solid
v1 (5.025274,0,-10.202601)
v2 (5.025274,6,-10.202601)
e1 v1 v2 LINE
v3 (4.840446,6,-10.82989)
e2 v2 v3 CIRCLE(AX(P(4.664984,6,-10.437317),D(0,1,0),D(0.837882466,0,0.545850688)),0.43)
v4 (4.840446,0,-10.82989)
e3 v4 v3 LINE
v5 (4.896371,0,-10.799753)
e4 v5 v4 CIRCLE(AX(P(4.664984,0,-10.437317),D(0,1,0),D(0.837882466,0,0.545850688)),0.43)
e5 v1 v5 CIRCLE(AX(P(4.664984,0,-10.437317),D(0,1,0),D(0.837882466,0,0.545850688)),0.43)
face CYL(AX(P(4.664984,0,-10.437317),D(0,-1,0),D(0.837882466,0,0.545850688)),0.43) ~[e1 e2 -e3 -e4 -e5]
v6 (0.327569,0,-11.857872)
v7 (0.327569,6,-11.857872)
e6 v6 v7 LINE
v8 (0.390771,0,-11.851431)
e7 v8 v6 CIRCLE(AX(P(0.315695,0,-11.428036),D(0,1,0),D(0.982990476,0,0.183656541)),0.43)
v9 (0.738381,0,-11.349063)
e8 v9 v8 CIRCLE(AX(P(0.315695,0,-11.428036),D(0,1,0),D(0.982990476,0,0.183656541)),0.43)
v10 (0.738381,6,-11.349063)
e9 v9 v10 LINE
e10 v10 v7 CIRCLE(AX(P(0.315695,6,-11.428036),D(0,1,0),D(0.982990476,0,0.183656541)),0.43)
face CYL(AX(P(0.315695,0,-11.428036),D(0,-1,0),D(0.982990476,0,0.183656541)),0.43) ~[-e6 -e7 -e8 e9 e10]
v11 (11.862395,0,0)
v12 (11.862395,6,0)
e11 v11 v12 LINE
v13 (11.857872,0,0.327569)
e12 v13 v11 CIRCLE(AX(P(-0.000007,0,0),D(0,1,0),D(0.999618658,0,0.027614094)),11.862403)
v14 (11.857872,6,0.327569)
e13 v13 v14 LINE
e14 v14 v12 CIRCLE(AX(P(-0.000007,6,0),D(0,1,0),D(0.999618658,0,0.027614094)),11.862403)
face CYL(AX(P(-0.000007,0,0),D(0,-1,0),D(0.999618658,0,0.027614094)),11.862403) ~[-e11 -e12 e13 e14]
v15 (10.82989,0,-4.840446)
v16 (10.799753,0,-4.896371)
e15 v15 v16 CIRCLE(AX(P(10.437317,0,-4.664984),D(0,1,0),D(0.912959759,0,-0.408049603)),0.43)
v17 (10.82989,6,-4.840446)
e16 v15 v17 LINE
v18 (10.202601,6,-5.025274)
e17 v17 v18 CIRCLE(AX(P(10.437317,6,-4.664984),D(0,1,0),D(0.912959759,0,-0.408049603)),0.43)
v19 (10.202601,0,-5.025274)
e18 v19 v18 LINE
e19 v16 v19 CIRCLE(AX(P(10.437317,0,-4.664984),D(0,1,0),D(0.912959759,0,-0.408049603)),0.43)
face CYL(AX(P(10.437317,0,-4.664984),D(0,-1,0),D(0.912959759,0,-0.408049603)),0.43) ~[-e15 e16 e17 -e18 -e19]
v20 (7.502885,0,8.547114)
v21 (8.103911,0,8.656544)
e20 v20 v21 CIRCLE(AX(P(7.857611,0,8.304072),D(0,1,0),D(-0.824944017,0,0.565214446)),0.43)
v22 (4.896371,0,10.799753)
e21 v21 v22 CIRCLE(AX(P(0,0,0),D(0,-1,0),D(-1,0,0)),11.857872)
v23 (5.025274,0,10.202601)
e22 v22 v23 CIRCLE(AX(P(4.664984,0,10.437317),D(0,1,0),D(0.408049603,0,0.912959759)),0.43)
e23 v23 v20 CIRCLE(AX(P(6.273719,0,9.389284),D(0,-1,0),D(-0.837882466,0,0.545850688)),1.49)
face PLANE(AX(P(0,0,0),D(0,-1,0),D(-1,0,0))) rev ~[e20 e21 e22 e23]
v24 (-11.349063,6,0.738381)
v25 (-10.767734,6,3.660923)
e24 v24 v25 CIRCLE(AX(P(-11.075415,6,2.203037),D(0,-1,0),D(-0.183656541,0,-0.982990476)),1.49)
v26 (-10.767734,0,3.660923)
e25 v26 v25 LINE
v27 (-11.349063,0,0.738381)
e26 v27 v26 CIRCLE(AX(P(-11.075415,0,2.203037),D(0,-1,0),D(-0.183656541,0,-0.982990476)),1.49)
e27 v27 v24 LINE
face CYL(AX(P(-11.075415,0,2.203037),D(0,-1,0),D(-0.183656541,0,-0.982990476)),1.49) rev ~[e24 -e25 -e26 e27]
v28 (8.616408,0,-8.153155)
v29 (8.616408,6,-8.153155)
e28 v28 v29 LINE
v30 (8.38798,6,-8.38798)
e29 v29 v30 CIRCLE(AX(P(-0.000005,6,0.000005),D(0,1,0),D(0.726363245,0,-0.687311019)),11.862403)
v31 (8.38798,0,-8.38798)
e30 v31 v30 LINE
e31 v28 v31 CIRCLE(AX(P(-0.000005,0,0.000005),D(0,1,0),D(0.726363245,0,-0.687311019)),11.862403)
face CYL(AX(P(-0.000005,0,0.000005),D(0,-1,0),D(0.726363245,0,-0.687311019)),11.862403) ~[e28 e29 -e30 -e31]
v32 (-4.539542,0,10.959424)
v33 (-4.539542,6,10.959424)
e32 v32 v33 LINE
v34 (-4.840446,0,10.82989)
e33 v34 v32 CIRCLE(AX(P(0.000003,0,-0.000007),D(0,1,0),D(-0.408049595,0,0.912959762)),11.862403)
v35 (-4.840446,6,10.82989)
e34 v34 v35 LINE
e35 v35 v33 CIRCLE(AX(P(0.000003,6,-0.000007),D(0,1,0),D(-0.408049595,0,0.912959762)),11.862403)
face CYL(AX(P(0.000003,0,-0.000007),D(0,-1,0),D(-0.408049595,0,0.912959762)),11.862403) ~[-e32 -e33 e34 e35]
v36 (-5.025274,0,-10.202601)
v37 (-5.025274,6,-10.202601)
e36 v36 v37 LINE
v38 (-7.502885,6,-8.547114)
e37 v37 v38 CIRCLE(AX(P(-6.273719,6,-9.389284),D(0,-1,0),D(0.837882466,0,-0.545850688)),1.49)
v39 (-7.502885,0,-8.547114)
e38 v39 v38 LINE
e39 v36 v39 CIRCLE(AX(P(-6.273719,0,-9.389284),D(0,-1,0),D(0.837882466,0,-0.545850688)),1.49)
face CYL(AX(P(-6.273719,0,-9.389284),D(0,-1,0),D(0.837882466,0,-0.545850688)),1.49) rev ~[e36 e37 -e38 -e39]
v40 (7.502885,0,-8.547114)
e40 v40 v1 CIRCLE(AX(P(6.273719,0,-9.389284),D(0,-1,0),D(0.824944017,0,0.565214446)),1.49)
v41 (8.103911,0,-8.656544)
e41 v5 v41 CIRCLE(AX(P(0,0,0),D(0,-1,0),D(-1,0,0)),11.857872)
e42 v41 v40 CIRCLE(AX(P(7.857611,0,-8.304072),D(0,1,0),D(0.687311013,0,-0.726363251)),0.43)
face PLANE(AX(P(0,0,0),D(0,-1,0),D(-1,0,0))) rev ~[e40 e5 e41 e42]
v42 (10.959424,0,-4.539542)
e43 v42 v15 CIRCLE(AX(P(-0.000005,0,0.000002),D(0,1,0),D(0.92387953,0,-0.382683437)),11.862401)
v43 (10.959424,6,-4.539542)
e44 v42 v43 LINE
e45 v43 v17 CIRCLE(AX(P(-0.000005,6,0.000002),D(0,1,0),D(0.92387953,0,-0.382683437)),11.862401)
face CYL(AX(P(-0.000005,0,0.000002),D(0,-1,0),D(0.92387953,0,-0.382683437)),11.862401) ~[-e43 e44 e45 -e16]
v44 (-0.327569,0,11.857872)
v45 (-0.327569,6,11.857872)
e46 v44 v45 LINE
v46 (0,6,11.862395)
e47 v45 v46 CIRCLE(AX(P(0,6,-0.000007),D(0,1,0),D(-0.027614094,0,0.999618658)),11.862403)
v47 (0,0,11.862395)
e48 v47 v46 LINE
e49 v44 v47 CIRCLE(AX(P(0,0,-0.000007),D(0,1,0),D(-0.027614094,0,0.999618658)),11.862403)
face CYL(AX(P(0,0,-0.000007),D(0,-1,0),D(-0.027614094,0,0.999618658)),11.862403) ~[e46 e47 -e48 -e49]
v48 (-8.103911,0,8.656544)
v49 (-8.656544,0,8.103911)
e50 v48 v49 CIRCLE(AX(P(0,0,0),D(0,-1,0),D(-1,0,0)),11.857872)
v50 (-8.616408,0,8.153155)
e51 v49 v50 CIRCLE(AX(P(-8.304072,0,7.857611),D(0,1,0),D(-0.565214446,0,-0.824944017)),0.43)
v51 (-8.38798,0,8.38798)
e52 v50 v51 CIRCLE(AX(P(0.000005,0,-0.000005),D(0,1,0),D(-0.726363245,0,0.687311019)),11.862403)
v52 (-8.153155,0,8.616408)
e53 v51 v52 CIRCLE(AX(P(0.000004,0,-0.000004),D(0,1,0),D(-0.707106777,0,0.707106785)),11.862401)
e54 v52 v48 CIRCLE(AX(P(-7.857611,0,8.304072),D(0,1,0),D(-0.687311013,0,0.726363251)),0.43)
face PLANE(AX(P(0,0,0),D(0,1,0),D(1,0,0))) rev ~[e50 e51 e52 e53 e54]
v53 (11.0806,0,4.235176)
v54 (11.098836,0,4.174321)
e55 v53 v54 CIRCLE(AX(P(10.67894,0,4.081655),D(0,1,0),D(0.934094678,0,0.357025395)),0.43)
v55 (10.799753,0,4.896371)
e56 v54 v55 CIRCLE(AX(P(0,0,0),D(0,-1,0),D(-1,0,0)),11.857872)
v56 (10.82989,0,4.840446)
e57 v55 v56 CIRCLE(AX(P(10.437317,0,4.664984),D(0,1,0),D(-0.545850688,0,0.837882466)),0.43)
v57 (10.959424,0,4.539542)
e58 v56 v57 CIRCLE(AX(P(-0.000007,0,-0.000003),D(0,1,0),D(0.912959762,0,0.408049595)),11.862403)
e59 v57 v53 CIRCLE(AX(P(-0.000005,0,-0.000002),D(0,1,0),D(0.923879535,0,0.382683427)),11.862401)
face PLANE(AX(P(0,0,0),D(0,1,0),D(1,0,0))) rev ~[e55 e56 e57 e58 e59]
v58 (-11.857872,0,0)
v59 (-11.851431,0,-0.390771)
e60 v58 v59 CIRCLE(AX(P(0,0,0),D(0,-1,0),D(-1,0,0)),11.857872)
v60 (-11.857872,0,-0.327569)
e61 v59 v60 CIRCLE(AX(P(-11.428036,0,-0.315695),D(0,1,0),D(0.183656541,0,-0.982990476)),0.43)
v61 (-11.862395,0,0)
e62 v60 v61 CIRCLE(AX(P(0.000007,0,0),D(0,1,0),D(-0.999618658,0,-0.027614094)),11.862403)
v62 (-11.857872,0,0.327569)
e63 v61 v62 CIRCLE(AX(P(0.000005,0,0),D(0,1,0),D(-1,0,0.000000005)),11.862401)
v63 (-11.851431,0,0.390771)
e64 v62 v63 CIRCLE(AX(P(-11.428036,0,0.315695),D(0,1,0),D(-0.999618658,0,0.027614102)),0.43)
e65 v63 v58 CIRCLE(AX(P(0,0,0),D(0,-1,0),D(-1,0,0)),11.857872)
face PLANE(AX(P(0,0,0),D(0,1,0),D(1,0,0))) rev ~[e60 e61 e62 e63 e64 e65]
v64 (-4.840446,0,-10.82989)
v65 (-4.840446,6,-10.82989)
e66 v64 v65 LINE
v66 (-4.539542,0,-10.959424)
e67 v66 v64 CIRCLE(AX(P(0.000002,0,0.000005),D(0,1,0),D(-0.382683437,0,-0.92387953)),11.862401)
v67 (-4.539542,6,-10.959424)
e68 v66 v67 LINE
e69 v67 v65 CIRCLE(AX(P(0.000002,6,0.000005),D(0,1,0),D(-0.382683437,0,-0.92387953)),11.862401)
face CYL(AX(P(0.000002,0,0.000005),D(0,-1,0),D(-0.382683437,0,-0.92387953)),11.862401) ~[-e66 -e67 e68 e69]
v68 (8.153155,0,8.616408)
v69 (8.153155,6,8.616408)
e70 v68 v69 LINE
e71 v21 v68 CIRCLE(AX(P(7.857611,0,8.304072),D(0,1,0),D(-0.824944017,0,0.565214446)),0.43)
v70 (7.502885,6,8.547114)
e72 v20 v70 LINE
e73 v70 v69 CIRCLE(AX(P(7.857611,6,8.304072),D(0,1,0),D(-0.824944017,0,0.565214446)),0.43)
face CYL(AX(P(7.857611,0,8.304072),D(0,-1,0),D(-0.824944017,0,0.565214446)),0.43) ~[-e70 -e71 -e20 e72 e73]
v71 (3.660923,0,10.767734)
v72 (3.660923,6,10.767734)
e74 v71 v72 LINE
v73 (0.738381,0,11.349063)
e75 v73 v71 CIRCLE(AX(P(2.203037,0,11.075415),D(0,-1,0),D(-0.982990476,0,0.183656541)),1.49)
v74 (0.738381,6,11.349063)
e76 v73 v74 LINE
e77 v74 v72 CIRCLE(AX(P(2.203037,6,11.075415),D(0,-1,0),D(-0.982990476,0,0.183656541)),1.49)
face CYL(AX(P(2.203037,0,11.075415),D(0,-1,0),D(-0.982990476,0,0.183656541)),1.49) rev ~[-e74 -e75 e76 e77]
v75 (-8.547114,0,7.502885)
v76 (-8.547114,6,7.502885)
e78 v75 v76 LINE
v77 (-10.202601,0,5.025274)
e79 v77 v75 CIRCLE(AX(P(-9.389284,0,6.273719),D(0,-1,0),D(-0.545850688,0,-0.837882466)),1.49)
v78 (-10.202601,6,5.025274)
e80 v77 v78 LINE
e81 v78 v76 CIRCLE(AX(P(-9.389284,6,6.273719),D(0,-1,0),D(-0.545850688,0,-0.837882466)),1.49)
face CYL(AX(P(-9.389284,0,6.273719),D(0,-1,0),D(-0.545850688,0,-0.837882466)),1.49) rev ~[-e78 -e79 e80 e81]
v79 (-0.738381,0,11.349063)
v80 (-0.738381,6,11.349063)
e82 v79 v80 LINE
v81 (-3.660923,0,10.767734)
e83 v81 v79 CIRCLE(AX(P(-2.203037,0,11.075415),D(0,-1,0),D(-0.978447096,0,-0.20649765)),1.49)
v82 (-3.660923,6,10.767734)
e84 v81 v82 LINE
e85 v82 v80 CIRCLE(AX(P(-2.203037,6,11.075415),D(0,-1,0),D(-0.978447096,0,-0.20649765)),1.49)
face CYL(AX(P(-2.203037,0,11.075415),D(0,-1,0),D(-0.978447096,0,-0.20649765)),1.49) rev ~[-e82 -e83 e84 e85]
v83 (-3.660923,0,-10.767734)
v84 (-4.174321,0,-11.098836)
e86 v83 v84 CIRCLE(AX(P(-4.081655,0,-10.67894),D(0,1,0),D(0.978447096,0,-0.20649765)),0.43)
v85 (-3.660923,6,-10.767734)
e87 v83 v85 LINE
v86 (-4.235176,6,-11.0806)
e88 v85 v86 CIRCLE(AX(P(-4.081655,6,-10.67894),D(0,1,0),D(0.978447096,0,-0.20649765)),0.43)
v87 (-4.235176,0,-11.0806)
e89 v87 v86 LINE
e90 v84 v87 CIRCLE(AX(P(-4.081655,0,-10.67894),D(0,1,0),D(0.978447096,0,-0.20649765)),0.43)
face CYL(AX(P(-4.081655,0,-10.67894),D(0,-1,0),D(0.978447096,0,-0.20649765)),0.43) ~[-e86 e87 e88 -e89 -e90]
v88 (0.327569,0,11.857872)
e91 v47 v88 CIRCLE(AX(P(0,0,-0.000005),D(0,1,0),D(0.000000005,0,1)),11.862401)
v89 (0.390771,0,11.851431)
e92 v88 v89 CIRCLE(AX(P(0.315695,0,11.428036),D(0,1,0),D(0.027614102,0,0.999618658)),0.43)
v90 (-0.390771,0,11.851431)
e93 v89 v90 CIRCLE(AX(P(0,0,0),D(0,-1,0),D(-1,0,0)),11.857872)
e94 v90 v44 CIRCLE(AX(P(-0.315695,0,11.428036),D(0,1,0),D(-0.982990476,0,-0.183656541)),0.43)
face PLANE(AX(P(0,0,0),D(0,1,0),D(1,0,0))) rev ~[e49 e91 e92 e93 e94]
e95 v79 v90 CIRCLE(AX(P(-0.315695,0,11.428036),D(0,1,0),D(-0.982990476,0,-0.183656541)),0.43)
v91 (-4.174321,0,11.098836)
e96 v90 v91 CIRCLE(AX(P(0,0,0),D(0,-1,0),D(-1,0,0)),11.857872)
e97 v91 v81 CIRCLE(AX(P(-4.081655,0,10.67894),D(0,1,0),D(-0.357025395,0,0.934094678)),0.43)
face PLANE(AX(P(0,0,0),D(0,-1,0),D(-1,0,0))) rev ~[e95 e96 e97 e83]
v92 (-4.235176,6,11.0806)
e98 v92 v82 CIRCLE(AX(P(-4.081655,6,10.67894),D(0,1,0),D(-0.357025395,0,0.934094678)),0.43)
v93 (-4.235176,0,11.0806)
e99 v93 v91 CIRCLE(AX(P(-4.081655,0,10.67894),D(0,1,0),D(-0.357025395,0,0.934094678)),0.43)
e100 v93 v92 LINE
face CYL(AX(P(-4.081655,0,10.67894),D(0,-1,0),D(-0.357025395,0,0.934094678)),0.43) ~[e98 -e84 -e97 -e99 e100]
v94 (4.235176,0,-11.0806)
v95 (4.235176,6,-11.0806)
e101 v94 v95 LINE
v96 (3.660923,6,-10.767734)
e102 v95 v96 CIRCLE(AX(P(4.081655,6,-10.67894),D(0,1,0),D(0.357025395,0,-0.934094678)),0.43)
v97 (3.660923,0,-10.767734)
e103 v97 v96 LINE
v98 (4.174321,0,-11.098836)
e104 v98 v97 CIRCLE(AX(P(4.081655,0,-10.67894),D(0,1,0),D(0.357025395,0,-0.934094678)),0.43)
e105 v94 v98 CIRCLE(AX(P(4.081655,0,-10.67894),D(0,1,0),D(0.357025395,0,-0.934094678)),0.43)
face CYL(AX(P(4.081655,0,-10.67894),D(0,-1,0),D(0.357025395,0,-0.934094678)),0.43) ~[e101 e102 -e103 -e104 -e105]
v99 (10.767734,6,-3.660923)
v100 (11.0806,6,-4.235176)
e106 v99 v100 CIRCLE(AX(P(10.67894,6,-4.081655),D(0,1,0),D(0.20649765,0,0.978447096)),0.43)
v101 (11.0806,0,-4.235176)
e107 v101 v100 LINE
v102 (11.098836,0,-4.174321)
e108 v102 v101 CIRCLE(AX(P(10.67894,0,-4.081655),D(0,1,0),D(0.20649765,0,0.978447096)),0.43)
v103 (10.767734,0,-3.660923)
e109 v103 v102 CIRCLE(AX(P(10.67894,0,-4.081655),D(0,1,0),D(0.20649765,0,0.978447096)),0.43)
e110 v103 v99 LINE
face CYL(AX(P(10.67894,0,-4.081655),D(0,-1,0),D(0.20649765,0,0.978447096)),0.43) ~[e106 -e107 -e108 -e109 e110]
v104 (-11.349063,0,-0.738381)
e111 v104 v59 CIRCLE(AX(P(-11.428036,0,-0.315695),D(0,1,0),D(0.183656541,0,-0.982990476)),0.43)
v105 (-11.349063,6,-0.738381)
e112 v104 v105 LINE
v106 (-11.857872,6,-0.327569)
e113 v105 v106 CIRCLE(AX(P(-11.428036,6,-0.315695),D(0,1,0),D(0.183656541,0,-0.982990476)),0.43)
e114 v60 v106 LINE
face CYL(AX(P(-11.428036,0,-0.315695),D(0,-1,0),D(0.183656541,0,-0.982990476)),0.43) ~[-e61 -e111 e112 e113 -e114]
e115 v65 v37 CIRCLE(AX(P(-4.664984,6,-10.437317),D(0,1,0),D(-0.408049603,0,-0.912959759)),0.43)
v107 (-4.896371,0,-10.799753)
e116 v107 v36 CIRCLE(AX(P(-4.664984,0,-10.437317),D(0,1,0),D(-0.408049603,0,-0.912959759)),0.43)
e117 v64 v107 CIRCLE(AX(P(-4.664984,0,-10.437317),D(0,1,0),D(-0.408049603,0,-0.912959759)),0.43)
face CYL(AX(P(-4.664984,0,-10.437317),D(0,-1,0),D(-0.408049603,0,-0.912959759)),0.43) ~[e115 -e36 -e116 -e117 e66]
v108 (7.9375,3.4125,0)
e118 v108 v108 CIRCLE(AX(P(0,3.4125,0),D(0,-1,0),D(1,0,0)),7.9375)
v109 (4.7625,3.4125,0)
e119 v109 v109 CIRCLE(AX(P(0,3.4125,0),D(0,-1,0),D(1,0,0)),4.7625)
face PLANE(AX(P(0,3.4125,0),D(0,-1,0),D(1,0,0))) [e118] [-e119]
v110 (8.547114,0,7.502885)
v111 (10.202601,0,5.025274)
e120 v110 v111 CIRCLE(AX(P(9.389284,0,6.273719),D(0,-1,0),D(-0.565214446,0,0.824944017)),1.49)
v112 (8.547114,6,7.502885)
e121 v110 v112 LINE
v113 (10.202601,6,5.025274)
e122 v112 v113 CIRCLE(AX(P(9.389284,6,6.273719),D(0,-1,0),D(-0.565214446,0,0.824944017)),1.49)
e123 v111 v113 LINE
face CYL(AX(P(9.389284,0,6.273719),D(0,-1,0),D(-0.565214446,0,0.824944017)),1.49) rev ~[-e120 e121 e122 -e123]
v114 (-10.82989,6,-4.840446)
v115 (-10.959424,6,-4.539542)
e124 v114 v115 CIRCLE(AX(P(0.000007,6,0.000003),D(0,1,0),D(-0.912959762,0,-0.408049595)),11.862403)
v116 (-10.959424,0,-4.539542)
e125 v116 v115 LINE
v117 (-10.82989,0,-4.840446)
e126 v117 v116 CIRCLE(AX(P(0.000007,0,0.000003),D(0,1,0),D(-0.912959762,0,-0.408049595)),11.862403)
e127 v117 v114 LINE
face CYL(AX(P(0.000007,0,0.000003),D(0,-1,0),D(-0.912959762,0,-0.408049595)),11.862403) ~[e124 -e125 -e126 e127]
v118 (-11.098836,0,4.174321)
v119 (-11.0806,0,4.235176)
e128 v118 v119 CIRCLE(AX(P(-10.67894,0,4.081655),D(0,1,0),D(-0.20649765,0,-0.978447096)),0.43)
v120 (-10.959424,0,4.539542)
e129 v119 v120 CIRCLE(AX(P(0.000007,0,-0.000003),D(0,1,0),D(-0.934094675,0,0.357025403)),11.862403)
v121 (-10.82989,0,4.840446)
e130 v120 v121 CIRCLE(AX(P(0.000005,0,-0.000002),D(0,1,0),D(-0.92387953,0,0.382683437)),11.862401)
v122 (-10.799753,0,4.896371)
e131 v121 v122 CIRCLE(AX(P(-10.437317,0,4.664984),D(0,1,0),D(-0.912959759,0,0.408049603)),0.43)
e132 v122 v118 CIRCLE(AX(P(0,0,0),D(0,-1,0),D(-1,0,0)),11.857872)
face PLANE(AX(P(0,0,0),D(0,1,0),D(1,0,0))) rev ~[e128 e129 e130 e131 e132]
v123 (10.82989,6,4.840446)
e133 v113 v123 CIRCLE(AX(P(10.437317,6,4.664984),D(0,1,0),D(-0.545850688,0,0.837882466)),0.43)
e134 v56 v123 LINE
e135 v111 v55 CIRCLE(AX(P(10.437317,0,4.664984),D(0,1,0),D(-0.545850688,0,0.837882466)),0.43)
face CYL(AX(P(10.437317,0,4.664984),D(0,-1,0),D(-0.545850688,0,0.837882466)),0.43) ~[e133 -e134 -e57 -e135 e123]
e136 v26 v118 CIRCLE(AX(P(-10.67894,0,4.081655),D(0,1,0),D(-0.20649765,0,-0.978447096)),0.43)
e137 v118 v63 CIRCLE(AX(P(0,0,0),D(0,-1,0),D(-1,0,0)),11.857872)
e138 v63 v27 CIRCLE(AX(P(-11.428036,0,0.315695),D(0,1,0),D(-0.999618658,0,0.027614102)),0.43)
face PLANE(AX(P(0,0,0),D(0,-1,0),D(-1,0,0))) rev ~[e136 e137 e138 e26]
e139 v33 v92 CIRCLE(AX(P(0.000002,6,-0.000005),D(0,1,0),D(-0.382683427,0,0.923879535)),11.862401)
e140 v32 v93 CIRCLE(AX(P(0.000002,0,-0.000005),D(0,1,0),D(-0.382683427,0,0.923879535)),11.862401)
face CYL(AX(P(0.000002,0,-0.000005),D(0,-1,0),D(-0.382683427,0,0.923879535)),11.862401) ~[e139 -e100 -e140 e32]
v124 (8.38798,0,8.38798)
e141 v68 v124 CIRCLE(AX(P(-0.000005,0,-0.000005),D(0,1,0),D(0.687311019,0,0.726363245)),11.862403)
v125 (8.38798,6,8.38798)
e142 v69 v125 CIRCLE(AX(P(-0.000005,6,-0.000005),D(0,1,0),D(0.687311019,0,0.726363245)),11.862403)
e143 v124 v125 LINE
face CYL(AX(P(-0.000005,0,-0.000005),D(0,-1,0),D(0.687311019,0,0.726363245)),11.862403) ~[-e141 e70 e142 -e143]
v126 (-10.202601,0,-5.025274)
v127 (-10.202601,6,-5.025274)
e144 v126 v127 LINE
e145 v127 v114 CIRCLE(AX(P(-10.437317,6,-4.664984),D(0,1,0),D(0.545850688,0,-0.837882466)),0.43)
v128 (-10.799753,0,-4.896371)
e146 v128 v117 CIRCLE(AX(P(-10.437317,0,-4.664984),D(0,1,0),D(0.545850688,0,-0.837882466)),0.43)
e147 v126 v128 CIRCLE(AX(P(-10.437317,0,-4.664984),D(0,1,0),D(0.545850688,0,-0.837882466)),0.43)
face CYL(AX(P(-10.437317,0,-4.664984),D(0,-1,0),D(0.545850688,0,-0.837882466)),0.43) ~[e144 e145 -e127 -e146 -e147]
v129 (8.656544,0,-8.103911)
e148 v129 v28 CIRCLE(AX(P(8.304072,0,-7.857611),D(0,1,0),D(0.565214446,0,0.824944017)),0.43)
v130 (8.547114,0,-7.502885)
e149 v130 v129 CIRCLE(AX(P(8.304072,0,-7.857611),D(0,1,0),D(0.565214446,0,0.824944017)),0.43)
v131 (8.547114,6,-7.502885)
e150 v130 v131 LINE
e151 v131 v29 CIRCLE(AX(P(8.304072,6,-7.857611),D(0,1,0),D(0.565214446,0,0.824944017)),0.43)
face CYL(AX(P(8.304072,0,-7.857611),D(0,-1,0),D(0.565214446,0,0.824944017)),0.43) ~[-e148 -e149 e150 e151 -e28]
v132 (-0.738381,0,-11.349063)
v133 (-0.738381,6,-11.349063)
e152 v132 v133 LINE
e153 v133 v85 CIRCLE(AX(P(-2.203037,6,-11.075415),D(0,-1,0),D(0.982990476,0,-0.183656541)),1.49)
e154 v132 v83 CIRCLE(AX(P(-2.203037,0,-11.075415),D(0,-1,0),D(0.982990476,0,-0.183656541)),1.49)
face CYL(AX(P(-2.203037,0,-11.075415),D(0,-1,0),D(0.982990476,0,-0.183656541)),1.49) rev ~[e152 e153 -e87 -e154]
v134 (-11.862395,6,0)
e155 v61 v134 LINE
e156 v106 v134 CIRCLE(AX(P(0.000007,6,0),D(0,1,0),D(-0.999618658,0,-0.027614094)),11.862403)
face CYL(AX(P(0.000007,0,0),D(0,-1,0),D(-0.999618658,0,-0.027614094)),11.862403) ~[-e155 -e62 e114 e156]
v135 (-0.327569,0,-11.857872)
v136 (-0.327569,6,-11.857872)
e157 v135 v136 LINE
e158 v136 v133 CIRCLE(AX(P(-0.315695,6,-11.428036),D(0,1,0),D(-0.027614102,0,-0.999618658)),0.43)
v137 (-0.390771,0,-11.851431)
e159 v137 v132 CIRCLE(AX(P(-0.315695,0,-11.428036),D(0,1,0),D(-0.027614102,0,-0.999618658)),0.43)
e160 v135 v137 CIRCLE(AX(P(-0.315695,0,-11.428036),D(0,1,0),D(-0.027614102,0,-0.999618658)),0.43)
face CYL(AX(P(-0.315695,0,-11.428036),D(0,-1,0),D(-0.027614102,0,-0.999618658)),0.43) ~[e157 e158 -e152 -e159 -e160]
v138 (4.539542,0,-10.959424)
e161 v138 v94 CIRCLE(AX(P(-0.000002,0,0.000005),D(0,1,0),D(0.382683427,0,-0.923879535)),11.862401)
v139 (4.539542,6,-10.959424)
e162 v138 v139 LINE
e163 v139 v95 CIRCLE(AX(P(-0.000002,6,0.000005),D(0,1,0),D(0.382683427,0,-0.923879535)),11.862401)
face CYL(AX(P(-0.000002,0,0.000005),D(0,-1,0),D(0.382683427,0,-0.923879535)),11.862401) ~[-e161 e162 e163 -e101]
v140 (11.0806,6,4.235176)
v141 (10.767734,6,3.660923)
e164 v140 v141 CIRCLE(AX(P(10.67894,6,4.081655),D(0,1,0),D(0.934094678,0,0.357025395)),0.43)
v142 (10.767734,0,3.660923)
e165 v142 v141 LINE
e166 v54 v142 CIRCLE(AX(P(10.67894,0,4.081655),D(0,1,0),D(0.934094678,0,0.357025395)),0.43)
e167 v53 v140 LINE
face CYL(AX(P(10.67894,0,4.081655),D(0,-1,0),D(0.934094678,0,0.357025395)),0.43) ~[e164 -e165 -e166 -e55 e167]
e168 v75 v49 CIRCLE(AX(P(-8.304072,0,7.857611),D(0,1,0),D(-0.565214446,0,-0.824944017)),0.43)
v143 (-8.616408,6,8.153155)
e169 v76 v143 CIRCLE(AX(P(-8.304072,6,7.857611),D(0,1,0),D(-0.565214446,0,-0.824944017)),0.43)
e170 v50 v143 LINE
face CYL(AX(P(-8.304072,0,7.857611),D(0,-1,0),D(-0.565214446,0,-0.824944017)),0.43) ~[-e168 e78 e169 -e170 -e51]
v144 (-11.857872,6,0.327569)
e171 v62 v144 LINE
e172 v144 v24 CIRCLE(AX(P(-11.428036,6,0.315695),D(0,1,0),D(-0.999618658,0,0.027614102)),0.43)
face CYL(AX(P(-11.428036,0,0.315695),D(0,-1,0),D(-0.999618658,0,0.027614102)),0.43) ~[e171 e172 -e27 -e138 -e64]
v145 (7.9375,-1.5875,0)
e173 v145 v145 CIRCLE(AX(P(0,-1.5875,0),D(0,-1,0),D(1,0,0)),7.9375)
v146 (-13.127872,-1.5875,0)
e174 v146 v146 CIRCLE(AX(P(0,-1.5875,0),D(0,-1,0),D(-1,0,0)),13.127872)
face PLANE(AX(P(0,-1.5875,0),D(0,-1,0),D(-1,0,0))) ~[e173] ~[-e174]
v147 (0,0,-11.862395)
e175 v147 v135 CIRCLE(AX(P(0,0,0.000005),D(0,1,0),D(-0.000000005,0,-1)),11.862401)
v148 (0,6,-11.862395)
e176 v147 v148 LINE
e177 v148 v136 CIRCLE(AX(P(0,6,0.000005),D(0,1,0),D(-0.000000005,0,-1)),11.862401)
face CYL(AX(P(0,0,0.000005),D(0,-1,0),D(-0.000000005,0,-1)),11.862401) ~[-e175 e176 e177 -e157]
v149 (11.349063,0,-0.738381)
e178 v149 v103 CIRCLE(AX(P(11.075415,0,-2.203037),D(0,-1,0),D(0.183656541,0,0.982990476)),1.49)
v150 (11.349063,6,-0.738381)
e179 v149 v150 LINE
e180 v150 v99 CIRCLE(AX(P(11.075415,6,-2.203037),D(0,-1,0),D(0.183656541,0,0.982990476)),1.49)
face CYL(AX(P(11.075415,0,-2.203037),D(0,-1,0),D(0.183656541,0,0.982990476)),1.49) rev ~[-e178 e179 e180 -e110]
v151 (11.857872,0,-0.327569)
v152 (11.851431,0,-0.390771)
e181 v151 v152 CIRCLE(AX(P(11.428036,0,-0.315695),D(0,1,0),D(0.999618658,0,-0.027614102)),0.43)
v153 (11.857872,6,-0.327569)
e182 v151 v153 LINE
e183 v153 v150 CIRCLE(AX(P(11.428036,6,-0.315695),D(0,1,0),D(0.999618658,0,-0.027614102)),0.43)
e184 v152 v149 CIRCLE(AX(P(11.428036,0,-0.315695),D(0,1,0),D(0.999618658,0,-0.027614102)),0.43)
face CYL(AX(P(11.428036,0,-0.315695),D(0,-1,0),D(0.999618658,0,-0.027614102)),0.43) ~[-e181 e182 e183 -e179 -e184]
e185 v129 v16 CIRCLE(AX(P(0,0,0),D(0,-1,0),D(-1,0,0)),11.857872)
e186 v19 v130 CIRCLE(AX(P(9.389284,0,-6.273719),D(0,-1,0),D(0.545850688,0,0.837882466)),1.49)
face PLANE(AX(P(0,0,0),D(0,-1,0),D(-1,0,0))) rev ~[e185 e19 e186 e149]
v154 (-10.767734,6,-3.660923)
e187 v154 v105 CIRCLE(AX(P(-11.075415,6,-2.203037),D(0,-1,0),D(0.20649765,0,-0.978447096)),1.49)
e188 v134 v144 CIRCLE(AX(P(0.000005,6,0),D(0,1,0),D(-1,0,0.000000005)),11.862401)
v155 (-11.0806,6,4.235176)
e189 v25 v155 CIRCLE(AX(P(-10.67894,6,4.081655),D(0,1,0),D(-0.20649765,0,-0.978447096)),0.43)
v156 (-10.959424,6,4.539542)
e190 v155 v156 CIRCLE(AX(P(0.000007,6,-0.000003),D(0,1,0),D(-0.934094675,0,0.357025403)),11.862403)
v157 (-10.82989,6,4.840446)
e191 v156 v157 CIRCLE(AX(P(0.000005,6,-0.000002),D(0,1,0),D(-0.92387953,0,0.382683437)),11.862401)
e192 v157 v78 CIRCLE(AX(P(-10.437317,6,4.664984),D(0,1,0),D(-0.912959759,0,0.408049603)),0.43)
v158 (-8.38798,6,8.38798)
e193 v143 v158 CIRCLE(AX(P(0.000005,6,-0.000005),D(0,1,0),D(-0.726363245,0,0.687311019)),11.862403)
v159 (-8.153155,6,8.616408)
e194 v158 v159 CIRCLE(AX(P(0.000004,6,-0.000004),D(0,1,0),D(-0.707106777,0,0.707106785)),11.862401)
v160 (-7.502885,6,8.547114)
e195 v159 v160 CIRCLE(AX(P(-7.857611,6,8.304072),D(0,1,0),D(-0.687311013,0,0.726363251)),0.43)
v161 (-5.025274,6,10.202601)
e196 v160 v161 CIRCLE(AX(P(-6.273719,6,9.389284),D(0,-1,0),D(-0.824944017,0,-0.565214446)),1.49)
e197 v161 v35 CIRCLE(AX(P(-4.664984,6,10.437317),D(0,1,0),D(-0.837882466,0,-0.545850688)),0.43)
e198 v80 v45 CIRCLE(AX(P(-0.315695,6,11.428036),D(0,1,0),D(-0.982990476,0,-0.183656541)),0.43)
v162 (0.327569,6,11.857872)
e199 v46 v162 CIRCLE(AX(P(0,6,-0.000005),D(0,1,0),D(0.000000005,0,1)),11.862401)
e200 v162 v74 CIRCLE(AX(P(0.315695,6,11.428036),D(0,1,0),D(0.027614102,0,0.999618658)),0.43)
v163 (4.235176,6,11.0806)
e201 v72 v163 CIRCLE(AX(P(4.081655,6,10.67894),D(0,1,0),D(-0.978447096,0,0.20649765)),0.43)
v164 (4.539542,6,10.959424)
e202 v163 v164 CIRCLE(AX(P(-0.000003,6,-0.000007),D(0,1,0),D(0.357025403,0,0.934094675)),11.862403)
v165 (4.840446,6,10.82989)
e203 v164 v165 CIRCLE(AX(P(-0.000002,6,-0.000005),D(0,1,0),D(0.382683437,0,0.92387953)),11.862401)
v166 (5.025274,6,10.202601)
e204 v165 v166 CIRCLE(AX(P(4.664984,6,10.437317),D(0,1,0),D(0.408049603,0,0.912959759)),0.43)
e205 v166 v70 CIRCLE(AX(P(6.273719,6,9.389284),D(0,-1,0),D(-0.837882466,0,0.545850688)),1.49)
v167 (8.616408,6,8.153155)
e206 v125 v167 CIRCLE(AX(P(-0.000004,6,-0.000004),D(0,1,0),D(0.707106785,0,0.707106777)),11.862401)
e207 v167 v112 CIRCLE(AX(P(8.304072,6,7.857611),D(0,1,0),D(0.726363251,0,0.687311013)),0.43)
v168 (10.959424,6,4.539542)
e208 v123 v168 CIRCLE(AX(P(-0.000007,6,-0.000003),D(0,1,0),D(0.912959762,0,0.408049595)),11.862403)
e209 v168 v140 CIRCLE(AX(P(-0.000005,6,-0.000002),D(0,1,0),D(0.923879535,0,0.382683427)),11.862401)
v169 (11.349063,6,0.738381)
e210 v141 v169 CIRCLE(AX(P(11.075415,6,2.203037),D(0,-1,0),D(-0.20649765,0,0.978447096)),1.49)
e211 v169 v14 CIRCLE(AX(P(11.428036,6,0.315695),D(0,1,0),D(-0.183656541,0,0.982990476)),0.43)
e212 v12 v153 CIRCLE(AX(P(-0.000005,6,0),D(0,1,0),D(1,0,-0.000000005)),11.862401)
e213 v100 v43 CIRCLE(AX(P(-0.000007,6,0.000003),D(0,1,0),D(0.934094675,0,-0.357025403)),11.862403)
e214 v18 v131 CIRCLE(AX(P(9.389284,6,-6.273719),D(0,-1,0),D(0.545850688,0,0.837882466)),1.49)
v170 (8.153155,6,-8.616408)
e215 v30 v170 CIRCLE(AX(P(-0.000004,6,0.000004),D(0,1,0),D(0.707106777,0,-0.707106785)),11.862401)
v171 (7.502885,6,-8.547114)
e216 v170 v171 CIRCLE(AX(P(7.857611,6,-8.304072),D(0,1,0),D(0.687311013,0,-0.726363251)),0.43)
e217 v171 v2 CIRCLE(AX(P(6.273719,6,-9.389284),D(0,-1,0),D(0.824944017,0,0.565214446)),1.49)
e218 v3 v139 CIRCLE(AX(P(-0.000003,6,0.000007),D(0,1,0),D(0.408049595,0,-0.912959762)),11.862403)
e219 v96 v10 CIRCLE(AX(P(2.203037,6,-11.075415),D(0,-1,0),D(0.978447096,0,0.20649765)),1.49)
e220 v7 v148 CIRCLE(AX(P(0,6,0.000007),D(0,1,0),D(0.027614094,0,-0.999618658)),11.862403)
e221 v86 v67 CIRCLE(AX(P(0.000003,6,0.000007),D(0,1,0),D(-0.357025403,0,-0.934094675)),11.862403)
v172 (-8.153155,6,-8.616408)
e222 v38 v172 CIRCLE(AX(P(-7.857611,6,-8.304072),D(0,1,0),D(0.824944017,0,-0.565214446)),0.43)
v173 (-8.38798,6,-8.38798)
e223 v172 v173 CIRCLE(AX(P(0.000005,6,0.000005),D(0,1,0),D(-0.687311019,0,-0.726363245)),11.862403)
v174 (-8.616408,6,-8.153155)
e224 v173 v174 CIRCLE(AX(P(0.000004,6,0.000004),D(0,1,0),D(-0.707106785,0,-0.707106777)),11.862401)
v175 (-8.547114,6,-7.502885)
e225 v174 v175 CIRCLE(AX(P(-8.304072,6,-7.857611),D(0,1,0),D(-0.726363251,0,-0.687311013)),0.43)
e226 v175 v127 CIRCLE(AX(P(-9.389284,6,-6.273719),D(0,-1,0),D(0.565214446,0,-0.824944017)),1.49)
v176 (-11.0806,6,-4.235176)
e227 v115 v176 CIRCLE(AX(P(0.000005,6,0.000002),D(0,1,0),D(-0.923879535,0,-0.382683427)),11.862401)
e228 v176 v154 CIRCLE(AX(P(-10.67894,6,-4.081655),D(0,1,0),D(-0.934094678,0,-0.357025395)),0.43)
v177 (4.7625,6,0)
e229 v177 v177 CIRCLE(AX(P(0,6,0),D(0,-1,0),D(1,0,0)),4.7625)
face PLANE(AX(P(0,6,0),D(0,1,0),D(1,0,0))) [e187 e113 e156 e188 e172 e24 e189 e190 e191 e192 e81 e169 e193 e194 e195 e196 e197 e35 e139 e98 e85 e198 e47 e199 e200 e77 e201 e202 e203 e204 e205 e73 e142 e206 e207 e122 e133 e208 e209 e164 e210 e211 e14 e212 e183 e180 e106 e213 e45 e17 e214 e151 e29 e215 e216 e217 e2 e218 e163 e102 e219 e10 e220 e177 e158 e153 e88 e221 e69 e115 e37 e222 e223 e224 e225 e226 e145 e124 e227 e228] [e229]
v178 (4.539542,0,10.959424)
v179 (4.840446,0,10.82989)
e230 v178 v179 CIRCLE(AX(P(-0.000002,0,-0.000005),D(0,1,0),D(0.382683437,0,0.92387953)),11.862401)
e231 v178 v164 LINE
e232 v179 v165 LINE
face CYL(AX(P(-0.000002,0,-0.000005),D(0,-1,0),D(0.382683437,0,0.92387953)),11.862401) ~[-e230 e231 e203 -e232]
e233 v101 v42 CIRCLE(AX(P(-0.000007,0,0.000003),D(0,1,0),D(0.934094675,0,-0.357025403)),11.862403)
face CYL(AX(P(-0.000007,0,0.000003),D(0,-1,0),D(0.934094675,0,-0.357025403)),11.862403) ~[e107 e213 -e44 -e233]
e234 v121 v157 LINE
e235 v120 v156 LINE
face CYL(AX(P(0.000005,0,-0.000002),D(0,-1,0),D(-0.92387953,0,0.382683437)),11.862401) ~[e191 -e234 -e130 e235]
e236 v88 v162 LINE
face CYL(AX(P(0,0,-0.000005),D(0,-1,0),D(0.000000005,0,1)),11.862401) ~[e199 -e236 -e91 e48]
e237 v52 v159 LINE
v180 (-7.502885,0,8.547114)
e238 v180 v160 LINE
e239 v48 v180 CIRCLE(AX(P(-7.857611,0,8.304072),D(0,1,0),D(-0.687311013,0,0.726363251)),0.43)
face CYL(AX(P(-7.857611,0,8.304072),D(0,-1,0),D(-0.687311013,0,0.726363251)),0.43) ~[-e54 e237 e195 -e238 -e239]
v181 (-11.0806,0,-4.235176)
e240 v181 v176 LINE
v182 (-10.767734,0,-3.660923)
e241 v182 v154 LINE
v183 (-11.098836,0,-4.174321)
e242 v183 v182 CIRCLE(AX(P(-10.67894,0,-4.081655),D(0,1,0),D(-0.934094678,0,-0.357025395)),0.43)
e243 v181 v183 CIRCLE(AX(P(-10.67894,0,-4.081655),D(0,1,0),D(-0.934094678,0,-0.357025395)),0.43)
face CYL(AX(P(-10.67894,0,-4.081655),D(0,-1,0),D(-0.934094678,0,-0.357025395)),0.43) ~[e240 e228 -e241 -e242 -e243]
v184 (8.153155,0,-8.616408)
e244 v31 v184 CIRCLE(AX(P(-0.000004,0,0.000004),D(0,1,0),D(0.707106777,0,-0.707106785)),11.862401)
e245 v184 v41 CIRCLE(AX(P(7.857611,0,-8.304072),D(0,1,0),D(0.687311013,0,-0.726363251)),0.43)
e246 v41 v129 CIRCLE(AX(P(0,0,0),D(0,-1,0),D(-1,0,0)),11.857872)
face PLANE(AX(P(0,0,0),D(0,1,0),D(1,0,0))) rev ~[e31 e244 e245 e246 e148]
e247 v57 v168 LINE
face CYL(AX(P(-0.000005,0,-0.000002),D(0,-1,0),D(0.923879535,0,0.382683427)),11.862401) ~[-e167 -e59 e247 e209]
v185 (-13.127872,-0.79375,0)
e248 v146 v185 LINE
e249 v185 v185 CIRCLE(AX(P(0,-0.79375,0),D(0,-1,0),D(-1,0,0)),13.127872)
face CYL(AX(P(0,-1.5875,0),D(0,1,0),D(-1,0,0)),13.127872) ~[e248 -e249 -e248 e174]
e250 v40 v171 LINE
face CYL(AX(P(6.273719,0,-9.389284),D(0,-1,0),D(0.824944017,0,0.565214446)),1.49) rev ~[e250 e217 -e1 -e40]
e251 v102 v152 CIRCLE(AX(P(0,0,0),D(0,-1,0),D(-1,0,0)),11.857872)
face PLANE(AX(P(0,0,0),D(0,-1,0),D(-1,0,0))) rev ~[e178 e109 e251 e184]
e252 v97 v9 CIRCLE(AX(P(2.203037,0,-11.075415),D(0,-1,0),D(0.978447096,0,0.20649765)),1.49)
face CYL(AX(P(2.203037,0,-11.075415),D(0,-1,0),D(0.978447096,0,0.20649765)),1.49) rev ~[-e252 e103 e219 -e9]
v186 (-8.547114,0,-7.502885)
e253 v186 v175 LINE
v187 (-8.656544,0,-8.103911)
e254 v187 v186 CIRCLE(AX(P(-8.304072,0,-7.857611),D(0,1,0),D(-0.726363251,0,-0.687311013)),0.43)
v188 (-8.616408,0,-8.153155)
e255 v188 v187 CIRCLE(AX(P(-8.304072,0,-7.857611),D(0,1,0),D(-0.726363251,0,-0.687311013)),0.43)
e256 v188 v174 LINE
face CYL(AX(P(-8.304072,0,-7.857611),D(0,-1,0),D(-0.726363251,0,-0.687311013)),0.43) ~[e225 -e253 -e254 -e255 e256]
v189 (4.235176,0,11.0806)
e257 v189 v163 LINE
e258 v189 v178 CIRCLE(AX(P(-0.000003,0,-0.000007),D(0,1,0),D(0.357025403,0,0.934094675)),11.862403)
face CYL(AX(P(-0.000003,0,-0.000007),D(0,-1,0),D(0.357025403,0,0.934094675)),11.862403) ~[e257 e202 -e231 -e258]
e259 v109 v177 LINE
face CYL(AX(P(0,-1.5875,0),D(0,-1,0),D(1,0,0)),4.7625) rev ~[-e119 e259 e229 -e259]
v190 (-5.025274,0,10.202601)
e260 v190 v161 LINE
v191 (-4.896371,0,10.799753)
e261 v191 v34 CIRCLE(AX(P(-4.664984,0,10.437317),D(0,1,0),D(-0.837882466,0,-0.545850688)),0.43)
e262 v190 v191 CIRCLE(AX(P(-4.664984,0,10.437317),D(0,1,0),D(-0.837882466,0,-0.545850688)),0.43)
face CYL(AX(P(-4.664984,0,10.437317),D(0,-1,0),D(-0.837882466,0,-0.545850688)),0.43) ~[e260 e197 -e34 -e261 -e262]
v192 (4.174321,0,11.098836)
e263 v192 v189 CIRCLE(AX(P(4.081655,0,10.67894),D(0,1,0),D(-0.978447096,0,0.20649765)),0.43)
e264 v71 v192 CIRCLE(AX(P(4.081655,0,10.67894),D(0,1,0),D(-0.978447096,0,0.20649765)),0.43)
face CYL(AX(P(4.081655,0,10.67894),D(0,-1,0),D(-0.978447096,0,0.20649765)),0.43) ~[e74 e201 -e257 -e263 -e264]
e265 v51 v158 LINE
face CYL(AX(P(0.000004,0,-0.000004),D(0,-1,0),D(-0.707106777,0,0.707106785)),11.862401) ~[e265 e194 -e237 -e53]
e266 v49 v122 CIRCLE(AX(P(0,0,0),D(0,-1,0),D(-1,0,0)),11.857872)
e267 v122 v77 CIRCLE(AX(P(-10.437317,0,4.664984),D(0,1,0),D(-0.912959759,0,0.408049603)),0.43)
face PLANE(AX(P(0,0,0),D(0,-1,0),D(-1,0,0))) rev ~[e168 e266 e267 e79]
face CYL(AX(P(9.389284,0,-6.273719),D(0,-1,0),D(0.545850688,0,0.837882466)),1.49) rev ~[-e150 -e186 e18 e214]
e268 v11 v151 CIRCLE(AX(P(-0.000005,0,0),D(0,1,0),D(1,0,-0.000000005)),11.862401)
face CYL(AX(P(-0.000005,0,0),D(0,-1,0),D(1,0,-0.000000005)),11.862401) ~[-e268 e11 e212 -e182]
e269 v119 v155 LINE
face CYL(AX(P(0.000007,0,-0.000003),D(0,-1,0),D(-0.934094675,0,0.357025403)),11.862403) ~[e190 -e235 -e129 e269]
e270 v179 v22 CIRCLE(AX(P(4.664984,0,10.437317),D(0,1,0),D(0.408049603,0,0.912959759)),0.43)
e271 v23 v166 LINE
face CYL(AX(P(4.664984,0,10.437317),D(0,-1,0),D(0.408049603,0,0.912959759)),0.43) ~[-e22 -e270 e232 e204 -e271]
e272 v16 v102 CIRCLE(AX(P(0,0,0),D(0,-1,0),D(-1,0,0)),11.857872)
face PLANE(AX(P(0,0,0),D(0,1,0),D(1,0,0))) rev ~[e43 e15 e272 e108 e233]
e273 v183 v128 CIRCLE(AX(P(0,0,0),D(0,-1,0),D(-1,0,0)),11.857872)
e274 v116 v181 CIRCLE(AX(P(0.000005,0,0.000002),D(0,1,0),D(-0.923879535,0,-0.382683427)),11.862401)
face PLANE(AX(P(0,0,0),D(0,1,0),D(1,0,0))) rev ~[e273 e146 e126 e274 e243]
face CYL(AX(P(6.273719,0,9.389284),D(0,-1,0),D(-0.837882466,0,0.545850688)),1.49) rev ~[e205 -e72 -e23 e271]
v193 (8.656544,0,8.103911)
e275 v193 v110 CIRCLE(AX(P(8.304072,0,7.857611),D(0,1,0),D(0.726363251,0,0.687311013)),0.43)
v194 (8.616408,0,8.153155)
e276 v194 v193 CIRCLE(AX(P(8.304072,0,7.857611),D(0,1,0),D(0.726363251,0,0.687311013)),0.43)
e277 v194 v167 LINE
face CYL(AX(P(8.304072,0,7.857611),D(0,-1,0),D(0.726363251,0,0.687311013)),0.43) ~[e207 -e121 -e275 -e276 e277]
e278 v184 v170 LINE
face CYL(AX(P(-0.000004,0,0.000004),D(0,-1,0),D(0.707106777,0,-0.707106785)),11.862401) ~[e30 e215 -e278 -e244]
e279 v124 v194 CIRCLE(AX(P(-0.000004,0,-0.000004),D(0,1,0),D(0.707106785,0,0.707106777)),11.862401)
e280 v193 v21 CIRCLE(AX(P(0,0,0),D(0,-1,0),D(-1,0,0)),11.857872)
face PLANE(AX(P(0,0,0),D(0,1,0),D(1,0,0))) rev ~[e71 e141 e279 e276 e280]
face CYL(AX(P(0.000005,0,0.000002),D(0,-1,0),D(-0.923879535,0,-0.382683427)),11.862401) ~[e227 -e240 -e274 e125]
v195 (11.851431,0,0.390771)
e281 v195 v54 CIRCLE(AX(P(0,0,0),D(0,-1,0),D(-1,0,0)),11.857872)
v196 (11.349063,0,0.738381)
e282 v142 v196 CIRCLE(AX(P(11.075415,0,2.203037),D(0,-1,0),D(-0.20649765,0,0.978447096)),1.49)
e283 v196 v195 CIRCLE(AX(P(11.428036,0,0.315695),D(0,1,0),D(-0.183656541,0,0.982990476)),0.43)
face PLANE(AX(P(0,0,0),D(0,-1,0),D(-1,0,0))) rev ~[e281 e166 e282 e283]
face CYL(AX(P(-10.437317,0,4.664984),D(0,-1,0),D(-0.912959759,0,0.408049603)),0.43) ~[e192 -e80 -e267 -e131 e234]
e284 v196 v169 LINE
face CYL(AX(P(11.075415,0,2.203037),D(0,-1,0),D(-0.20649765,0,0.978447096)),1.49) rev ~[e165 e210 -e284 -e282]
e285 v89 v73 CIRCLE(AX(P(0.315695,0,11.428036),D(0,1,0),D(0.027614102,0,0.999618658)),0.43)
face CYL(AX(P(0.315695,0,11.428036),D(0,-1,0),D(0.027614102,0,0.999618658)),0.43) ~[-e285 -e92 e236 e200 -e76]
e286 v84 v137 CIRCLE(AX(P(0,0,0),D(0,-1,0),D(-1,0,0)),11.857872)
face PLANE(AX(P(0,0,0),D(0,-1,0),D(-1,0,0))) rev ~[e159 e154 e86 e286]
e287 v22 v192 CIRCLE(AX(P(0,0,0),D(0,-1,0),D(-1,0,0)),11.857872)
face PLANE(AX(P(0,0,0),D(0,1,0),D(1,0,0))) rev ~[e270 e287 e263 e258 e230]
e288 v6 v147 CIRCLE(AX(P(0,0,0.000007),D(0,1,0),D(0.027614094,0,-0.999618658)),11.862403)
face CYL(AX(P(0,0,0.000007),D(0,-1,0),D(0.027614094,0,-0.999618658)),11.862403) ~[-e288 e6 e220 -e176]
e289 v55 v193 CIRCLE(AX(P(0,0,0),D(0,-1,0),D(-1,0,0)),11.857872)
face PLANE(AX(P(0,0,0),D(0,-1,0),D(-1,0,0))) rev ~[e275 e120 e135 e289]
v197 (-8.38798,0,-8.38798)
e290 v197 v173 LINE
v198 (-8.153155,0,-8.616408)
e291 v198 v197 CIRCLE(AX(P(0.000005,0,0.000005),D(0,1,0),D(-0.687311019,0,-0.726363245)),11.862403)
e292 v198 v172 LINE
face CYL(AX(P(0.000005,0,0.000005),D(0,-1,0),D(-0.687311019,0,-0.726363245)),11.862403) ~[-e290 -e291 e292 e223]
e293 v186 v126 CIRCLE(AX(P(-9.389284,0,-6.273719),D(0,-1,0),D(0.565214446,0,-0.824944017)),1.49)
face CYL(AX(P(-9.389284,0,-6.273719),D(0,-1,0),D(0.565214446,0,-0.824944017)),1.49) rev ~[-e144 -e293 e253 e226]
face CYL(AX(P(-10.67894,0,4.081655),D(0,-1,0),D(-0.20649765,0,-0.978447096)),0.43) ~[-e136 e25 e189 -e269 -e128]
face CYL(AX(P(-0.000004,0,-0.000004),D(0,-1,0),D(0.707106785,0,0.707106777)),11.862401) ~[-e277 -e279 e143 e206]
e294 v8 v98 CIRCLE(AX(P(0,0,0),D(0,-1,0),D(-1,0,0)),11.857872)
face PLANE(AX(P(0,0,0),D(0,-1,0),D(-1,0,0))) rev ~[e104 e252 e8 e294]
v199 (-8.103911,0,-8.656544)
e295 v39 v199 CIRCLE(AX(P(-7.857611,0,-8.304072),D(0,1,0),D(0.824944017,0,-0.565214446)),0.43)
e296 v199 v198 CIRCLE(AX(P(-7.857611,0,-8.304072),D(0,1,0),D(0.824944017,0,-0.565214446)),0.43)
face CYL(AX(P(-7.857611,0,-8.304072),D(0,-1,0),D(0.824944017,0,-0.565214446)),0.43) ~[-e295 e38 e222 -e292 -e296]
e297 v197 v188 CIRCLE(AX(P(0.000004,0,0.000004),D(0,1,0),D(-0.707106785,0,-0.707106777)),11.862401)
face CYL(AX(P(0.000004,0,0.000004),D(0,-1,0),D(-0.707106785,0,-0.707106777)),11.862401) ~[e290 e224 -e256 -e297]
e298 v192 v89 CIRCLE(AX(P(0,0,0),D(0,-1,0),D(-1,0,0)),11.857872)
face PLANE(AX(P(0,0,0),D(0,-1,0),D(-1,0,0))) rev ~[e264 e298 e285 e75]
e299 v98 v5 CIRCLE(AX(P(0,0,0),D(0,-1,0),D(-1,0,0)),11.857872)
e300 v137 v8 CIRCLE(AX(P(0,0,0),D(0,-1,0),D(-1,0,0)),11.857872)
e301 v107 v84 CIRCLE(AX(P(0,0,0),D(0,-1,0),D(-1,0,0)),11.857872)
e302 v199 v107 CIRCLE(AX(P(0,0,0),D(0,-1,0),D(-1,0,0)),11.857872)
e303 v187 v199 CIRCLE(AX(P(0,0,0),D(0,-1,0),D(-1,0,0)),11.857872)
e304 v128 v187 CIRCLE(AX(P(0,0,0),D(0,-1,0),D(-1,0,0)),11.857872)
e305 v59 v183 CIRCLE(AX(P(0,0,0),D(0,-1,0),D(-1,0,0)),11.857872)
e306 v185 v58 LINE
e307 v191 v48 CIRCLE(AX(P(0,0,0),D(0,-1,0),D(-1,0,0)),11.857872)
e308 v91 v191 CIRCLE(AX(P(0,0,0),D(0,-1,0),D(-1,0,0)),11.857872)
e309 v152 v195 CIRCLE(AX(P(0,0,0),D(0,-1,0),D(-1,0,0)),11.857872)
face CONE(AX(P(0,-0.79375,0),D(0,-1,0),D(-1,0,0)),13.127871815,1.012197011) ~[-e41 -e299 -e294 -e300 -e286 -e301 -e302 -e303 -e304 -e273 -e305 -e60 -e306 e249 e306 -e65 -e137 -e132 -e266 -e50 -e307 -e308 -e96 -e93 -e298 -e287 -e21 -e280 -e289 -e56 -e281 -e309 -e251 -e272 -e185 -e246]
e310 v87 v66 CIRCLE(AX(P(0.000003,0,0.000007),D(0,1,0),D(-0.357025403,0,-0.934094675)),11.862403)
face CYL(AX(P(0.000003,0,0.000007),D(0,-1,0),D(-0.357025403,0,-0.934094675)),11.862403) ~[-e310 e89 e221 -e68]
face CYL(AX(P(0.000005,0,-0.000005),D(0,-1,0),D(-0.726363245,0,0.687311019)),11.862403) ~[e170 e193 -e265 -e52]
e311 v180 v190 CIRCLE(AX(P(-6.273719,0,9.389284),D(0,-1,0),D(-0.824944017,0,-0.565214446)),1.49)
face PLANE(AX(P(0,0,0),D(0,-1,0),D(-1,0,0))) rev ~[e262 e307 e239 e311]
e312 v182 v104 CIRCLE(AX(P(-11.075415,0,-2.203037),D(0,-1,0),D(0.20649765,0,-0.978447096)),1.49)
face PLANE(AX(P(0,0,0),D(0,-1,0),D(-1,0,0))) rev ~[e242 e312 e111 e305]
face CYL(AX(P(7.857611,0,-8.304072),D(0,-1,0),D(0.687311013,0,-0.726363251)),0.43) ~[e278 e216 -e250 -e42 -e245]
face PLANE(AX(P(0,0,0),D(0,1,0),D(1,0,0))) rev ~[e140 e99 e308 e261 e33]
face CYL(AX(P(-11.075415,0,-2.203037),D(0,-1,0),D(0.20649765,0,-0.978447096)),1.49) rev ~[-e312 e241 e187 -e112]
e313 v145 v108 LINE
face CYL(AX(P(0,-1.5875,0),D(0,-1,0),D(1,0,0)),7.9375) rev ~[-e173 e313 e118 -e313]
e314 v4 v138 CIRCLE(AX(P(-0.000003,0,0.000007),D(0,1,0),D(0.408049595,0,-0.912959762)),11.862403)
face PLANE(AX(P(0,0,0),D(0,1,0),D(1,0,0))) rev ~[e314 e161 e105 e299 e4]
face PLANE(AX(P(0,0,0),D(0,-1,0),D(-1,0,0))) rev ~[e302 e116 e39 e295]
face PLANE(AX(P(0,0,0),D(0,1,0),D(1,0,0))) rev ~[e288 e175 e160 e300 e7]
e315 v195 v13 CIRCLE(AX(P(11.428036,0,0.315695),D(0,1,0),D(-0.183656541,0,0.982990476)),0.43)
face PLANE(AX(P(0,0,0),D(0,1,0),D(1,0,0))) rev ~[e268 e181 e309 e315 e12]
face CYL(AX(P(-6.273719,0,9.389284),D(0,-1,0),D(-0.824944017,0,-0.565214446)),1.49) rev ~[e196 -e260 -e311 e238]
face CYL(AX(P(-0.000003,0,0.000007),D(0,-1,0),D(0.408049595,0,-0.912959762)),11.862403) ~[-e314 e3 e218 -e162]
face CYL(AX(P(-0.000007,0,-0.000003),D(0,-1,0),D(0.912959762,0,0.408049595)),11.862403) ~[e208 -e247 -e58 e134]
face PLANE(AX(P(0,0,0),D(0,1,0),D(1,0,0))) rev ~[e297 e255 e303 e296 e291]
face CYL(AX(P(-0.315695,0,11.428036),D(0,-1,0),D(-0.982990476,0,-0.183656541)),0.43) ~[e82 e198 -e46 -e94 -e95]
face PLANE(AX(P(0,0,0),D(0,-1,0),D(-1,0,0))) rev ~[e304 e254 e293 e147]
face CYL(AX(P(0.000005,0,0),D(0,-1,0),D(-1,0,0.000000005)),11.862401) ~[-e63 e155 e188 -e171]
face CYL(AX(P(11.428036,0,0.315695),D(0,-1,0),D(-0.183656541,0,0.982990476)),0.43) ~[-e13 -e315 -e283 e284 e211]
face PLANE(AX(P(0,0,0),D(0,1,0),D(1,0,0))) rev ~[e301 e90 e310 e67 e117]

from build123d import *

# Parameters (mm, degrees)
SKETCH1_R           = 12.732395445
BOSS_EXTRUDE1_DEPTH = 6
CUT_EXTRUDE1_DEPTH  = 6
CIRPATTERN1_COUNT   = 16
SKETCH4_R           = 7.9375
SKETCH4_R_2         = 4.7625
CUT_EXTRUDE4_DEPTH  = 5
SKETCH4_5_R         = 4.7625
CUT_EXTRUDE5_DEPTH  = 8.5875


with BuildPart() as part:
    # Sketch1 → Boss-Extrude1 (new body)
    with BuildSketch(Plane(origin=(0, 0, 0), x_dir=(1, 0, 0), z_dir=(0, 1, 0))):
        Circle(SKETCH1_R)
    extrude(amount=BOSS_EXTRUDE1_DEPTH)

    # Sketch3 → Cut-Extrude1 (cut)
    with BuildSketch(Plane(origin=(0, 0, 0), x_dir=(1, 0, 0), z_dir=(0, 1, 0))):
        with BuildLine():
            Line((5.255160224, 12.687079084), (4.539542206, 10.959424358))
            ThreePointArc((4.539542206, 10.959424358), (4.387777638, 11.021063156), (4.235176409, 11.080600457))
            ThreePointArc((4.235176409, 11.080600457), (3.875932689, 11.056534938), (3.660923238, 10.767733734))
            ThreePointArc((3.660923238, 10.767733734), (1.912352484, 9.614045165), (0.738381256, 11.349063479))
            ThreePointArc((0.738381256, 11.349063479), (0.65025786, 11.698161555), (0.327569416, 11.857871815))
            ThreePointArc((0.327569416, 11.857871815), (0.163800325, 11.861264483), (0, 11.862395445))
            Line((0, 11.862395445), (0, 13.732395445))
            ThreePointArc((0, 13.732395445), (2.67905745, 13.468531317), (5.255160224, 12.687079084))
        make_face()
    cut_extrude1 = extrude(amount=CUT_EXTRUDE1_DEPTH, mode=Mode.SUBTRACT)

    # CirPattern1: Cut-Extrude1 ×16 about axis
    cirpattern1_axis = Axis((0, 0, 0), (0, 1, 0))
    for i in range(1, CIRPATTERN1_COUNT):
        add(cut_extrude1.rotate(cirpattern1_axis, i * 360 / CIRPATTERN1_COUNT), mode=Mode.SUBTRACT)

    # Sketch5 → Revolve1 (revolve)
    with BuildSketch(Plane.XY):
        Polygon((0, 0), (0, -1.5875), (-13.127871815, -1.5875), (-13.127871815, -0.79375), (-11.857871815, 0), align=None)
    revolve(axis=Axis((0, 0, 0), (0, -1, 0)))

    # Sketch4 → Cut-Extrude4 (cut)
    with BuildSketch(Plane.XZ.offset(1.5875)):
        Circle(SKETCH4_R)
        Circle(SKETCH4_R_2, mode=Mode.SUBTRACT)
    extrude(amount=-CUT_EXTRUDE4_DEPTH, mode=Mode.SUBTRACT)

    # Sketch4<5> → Cut-Extrude5 (cut, through all)
    with BuildSketch(Plane.XZ.offset(1.5875)):
        Circle(SKETCH4_5_R)
    extrude(amount=-CUT_EXTRUDE5_DEPTH, mode=Mode.SUBTRACT)


solid = part.part
